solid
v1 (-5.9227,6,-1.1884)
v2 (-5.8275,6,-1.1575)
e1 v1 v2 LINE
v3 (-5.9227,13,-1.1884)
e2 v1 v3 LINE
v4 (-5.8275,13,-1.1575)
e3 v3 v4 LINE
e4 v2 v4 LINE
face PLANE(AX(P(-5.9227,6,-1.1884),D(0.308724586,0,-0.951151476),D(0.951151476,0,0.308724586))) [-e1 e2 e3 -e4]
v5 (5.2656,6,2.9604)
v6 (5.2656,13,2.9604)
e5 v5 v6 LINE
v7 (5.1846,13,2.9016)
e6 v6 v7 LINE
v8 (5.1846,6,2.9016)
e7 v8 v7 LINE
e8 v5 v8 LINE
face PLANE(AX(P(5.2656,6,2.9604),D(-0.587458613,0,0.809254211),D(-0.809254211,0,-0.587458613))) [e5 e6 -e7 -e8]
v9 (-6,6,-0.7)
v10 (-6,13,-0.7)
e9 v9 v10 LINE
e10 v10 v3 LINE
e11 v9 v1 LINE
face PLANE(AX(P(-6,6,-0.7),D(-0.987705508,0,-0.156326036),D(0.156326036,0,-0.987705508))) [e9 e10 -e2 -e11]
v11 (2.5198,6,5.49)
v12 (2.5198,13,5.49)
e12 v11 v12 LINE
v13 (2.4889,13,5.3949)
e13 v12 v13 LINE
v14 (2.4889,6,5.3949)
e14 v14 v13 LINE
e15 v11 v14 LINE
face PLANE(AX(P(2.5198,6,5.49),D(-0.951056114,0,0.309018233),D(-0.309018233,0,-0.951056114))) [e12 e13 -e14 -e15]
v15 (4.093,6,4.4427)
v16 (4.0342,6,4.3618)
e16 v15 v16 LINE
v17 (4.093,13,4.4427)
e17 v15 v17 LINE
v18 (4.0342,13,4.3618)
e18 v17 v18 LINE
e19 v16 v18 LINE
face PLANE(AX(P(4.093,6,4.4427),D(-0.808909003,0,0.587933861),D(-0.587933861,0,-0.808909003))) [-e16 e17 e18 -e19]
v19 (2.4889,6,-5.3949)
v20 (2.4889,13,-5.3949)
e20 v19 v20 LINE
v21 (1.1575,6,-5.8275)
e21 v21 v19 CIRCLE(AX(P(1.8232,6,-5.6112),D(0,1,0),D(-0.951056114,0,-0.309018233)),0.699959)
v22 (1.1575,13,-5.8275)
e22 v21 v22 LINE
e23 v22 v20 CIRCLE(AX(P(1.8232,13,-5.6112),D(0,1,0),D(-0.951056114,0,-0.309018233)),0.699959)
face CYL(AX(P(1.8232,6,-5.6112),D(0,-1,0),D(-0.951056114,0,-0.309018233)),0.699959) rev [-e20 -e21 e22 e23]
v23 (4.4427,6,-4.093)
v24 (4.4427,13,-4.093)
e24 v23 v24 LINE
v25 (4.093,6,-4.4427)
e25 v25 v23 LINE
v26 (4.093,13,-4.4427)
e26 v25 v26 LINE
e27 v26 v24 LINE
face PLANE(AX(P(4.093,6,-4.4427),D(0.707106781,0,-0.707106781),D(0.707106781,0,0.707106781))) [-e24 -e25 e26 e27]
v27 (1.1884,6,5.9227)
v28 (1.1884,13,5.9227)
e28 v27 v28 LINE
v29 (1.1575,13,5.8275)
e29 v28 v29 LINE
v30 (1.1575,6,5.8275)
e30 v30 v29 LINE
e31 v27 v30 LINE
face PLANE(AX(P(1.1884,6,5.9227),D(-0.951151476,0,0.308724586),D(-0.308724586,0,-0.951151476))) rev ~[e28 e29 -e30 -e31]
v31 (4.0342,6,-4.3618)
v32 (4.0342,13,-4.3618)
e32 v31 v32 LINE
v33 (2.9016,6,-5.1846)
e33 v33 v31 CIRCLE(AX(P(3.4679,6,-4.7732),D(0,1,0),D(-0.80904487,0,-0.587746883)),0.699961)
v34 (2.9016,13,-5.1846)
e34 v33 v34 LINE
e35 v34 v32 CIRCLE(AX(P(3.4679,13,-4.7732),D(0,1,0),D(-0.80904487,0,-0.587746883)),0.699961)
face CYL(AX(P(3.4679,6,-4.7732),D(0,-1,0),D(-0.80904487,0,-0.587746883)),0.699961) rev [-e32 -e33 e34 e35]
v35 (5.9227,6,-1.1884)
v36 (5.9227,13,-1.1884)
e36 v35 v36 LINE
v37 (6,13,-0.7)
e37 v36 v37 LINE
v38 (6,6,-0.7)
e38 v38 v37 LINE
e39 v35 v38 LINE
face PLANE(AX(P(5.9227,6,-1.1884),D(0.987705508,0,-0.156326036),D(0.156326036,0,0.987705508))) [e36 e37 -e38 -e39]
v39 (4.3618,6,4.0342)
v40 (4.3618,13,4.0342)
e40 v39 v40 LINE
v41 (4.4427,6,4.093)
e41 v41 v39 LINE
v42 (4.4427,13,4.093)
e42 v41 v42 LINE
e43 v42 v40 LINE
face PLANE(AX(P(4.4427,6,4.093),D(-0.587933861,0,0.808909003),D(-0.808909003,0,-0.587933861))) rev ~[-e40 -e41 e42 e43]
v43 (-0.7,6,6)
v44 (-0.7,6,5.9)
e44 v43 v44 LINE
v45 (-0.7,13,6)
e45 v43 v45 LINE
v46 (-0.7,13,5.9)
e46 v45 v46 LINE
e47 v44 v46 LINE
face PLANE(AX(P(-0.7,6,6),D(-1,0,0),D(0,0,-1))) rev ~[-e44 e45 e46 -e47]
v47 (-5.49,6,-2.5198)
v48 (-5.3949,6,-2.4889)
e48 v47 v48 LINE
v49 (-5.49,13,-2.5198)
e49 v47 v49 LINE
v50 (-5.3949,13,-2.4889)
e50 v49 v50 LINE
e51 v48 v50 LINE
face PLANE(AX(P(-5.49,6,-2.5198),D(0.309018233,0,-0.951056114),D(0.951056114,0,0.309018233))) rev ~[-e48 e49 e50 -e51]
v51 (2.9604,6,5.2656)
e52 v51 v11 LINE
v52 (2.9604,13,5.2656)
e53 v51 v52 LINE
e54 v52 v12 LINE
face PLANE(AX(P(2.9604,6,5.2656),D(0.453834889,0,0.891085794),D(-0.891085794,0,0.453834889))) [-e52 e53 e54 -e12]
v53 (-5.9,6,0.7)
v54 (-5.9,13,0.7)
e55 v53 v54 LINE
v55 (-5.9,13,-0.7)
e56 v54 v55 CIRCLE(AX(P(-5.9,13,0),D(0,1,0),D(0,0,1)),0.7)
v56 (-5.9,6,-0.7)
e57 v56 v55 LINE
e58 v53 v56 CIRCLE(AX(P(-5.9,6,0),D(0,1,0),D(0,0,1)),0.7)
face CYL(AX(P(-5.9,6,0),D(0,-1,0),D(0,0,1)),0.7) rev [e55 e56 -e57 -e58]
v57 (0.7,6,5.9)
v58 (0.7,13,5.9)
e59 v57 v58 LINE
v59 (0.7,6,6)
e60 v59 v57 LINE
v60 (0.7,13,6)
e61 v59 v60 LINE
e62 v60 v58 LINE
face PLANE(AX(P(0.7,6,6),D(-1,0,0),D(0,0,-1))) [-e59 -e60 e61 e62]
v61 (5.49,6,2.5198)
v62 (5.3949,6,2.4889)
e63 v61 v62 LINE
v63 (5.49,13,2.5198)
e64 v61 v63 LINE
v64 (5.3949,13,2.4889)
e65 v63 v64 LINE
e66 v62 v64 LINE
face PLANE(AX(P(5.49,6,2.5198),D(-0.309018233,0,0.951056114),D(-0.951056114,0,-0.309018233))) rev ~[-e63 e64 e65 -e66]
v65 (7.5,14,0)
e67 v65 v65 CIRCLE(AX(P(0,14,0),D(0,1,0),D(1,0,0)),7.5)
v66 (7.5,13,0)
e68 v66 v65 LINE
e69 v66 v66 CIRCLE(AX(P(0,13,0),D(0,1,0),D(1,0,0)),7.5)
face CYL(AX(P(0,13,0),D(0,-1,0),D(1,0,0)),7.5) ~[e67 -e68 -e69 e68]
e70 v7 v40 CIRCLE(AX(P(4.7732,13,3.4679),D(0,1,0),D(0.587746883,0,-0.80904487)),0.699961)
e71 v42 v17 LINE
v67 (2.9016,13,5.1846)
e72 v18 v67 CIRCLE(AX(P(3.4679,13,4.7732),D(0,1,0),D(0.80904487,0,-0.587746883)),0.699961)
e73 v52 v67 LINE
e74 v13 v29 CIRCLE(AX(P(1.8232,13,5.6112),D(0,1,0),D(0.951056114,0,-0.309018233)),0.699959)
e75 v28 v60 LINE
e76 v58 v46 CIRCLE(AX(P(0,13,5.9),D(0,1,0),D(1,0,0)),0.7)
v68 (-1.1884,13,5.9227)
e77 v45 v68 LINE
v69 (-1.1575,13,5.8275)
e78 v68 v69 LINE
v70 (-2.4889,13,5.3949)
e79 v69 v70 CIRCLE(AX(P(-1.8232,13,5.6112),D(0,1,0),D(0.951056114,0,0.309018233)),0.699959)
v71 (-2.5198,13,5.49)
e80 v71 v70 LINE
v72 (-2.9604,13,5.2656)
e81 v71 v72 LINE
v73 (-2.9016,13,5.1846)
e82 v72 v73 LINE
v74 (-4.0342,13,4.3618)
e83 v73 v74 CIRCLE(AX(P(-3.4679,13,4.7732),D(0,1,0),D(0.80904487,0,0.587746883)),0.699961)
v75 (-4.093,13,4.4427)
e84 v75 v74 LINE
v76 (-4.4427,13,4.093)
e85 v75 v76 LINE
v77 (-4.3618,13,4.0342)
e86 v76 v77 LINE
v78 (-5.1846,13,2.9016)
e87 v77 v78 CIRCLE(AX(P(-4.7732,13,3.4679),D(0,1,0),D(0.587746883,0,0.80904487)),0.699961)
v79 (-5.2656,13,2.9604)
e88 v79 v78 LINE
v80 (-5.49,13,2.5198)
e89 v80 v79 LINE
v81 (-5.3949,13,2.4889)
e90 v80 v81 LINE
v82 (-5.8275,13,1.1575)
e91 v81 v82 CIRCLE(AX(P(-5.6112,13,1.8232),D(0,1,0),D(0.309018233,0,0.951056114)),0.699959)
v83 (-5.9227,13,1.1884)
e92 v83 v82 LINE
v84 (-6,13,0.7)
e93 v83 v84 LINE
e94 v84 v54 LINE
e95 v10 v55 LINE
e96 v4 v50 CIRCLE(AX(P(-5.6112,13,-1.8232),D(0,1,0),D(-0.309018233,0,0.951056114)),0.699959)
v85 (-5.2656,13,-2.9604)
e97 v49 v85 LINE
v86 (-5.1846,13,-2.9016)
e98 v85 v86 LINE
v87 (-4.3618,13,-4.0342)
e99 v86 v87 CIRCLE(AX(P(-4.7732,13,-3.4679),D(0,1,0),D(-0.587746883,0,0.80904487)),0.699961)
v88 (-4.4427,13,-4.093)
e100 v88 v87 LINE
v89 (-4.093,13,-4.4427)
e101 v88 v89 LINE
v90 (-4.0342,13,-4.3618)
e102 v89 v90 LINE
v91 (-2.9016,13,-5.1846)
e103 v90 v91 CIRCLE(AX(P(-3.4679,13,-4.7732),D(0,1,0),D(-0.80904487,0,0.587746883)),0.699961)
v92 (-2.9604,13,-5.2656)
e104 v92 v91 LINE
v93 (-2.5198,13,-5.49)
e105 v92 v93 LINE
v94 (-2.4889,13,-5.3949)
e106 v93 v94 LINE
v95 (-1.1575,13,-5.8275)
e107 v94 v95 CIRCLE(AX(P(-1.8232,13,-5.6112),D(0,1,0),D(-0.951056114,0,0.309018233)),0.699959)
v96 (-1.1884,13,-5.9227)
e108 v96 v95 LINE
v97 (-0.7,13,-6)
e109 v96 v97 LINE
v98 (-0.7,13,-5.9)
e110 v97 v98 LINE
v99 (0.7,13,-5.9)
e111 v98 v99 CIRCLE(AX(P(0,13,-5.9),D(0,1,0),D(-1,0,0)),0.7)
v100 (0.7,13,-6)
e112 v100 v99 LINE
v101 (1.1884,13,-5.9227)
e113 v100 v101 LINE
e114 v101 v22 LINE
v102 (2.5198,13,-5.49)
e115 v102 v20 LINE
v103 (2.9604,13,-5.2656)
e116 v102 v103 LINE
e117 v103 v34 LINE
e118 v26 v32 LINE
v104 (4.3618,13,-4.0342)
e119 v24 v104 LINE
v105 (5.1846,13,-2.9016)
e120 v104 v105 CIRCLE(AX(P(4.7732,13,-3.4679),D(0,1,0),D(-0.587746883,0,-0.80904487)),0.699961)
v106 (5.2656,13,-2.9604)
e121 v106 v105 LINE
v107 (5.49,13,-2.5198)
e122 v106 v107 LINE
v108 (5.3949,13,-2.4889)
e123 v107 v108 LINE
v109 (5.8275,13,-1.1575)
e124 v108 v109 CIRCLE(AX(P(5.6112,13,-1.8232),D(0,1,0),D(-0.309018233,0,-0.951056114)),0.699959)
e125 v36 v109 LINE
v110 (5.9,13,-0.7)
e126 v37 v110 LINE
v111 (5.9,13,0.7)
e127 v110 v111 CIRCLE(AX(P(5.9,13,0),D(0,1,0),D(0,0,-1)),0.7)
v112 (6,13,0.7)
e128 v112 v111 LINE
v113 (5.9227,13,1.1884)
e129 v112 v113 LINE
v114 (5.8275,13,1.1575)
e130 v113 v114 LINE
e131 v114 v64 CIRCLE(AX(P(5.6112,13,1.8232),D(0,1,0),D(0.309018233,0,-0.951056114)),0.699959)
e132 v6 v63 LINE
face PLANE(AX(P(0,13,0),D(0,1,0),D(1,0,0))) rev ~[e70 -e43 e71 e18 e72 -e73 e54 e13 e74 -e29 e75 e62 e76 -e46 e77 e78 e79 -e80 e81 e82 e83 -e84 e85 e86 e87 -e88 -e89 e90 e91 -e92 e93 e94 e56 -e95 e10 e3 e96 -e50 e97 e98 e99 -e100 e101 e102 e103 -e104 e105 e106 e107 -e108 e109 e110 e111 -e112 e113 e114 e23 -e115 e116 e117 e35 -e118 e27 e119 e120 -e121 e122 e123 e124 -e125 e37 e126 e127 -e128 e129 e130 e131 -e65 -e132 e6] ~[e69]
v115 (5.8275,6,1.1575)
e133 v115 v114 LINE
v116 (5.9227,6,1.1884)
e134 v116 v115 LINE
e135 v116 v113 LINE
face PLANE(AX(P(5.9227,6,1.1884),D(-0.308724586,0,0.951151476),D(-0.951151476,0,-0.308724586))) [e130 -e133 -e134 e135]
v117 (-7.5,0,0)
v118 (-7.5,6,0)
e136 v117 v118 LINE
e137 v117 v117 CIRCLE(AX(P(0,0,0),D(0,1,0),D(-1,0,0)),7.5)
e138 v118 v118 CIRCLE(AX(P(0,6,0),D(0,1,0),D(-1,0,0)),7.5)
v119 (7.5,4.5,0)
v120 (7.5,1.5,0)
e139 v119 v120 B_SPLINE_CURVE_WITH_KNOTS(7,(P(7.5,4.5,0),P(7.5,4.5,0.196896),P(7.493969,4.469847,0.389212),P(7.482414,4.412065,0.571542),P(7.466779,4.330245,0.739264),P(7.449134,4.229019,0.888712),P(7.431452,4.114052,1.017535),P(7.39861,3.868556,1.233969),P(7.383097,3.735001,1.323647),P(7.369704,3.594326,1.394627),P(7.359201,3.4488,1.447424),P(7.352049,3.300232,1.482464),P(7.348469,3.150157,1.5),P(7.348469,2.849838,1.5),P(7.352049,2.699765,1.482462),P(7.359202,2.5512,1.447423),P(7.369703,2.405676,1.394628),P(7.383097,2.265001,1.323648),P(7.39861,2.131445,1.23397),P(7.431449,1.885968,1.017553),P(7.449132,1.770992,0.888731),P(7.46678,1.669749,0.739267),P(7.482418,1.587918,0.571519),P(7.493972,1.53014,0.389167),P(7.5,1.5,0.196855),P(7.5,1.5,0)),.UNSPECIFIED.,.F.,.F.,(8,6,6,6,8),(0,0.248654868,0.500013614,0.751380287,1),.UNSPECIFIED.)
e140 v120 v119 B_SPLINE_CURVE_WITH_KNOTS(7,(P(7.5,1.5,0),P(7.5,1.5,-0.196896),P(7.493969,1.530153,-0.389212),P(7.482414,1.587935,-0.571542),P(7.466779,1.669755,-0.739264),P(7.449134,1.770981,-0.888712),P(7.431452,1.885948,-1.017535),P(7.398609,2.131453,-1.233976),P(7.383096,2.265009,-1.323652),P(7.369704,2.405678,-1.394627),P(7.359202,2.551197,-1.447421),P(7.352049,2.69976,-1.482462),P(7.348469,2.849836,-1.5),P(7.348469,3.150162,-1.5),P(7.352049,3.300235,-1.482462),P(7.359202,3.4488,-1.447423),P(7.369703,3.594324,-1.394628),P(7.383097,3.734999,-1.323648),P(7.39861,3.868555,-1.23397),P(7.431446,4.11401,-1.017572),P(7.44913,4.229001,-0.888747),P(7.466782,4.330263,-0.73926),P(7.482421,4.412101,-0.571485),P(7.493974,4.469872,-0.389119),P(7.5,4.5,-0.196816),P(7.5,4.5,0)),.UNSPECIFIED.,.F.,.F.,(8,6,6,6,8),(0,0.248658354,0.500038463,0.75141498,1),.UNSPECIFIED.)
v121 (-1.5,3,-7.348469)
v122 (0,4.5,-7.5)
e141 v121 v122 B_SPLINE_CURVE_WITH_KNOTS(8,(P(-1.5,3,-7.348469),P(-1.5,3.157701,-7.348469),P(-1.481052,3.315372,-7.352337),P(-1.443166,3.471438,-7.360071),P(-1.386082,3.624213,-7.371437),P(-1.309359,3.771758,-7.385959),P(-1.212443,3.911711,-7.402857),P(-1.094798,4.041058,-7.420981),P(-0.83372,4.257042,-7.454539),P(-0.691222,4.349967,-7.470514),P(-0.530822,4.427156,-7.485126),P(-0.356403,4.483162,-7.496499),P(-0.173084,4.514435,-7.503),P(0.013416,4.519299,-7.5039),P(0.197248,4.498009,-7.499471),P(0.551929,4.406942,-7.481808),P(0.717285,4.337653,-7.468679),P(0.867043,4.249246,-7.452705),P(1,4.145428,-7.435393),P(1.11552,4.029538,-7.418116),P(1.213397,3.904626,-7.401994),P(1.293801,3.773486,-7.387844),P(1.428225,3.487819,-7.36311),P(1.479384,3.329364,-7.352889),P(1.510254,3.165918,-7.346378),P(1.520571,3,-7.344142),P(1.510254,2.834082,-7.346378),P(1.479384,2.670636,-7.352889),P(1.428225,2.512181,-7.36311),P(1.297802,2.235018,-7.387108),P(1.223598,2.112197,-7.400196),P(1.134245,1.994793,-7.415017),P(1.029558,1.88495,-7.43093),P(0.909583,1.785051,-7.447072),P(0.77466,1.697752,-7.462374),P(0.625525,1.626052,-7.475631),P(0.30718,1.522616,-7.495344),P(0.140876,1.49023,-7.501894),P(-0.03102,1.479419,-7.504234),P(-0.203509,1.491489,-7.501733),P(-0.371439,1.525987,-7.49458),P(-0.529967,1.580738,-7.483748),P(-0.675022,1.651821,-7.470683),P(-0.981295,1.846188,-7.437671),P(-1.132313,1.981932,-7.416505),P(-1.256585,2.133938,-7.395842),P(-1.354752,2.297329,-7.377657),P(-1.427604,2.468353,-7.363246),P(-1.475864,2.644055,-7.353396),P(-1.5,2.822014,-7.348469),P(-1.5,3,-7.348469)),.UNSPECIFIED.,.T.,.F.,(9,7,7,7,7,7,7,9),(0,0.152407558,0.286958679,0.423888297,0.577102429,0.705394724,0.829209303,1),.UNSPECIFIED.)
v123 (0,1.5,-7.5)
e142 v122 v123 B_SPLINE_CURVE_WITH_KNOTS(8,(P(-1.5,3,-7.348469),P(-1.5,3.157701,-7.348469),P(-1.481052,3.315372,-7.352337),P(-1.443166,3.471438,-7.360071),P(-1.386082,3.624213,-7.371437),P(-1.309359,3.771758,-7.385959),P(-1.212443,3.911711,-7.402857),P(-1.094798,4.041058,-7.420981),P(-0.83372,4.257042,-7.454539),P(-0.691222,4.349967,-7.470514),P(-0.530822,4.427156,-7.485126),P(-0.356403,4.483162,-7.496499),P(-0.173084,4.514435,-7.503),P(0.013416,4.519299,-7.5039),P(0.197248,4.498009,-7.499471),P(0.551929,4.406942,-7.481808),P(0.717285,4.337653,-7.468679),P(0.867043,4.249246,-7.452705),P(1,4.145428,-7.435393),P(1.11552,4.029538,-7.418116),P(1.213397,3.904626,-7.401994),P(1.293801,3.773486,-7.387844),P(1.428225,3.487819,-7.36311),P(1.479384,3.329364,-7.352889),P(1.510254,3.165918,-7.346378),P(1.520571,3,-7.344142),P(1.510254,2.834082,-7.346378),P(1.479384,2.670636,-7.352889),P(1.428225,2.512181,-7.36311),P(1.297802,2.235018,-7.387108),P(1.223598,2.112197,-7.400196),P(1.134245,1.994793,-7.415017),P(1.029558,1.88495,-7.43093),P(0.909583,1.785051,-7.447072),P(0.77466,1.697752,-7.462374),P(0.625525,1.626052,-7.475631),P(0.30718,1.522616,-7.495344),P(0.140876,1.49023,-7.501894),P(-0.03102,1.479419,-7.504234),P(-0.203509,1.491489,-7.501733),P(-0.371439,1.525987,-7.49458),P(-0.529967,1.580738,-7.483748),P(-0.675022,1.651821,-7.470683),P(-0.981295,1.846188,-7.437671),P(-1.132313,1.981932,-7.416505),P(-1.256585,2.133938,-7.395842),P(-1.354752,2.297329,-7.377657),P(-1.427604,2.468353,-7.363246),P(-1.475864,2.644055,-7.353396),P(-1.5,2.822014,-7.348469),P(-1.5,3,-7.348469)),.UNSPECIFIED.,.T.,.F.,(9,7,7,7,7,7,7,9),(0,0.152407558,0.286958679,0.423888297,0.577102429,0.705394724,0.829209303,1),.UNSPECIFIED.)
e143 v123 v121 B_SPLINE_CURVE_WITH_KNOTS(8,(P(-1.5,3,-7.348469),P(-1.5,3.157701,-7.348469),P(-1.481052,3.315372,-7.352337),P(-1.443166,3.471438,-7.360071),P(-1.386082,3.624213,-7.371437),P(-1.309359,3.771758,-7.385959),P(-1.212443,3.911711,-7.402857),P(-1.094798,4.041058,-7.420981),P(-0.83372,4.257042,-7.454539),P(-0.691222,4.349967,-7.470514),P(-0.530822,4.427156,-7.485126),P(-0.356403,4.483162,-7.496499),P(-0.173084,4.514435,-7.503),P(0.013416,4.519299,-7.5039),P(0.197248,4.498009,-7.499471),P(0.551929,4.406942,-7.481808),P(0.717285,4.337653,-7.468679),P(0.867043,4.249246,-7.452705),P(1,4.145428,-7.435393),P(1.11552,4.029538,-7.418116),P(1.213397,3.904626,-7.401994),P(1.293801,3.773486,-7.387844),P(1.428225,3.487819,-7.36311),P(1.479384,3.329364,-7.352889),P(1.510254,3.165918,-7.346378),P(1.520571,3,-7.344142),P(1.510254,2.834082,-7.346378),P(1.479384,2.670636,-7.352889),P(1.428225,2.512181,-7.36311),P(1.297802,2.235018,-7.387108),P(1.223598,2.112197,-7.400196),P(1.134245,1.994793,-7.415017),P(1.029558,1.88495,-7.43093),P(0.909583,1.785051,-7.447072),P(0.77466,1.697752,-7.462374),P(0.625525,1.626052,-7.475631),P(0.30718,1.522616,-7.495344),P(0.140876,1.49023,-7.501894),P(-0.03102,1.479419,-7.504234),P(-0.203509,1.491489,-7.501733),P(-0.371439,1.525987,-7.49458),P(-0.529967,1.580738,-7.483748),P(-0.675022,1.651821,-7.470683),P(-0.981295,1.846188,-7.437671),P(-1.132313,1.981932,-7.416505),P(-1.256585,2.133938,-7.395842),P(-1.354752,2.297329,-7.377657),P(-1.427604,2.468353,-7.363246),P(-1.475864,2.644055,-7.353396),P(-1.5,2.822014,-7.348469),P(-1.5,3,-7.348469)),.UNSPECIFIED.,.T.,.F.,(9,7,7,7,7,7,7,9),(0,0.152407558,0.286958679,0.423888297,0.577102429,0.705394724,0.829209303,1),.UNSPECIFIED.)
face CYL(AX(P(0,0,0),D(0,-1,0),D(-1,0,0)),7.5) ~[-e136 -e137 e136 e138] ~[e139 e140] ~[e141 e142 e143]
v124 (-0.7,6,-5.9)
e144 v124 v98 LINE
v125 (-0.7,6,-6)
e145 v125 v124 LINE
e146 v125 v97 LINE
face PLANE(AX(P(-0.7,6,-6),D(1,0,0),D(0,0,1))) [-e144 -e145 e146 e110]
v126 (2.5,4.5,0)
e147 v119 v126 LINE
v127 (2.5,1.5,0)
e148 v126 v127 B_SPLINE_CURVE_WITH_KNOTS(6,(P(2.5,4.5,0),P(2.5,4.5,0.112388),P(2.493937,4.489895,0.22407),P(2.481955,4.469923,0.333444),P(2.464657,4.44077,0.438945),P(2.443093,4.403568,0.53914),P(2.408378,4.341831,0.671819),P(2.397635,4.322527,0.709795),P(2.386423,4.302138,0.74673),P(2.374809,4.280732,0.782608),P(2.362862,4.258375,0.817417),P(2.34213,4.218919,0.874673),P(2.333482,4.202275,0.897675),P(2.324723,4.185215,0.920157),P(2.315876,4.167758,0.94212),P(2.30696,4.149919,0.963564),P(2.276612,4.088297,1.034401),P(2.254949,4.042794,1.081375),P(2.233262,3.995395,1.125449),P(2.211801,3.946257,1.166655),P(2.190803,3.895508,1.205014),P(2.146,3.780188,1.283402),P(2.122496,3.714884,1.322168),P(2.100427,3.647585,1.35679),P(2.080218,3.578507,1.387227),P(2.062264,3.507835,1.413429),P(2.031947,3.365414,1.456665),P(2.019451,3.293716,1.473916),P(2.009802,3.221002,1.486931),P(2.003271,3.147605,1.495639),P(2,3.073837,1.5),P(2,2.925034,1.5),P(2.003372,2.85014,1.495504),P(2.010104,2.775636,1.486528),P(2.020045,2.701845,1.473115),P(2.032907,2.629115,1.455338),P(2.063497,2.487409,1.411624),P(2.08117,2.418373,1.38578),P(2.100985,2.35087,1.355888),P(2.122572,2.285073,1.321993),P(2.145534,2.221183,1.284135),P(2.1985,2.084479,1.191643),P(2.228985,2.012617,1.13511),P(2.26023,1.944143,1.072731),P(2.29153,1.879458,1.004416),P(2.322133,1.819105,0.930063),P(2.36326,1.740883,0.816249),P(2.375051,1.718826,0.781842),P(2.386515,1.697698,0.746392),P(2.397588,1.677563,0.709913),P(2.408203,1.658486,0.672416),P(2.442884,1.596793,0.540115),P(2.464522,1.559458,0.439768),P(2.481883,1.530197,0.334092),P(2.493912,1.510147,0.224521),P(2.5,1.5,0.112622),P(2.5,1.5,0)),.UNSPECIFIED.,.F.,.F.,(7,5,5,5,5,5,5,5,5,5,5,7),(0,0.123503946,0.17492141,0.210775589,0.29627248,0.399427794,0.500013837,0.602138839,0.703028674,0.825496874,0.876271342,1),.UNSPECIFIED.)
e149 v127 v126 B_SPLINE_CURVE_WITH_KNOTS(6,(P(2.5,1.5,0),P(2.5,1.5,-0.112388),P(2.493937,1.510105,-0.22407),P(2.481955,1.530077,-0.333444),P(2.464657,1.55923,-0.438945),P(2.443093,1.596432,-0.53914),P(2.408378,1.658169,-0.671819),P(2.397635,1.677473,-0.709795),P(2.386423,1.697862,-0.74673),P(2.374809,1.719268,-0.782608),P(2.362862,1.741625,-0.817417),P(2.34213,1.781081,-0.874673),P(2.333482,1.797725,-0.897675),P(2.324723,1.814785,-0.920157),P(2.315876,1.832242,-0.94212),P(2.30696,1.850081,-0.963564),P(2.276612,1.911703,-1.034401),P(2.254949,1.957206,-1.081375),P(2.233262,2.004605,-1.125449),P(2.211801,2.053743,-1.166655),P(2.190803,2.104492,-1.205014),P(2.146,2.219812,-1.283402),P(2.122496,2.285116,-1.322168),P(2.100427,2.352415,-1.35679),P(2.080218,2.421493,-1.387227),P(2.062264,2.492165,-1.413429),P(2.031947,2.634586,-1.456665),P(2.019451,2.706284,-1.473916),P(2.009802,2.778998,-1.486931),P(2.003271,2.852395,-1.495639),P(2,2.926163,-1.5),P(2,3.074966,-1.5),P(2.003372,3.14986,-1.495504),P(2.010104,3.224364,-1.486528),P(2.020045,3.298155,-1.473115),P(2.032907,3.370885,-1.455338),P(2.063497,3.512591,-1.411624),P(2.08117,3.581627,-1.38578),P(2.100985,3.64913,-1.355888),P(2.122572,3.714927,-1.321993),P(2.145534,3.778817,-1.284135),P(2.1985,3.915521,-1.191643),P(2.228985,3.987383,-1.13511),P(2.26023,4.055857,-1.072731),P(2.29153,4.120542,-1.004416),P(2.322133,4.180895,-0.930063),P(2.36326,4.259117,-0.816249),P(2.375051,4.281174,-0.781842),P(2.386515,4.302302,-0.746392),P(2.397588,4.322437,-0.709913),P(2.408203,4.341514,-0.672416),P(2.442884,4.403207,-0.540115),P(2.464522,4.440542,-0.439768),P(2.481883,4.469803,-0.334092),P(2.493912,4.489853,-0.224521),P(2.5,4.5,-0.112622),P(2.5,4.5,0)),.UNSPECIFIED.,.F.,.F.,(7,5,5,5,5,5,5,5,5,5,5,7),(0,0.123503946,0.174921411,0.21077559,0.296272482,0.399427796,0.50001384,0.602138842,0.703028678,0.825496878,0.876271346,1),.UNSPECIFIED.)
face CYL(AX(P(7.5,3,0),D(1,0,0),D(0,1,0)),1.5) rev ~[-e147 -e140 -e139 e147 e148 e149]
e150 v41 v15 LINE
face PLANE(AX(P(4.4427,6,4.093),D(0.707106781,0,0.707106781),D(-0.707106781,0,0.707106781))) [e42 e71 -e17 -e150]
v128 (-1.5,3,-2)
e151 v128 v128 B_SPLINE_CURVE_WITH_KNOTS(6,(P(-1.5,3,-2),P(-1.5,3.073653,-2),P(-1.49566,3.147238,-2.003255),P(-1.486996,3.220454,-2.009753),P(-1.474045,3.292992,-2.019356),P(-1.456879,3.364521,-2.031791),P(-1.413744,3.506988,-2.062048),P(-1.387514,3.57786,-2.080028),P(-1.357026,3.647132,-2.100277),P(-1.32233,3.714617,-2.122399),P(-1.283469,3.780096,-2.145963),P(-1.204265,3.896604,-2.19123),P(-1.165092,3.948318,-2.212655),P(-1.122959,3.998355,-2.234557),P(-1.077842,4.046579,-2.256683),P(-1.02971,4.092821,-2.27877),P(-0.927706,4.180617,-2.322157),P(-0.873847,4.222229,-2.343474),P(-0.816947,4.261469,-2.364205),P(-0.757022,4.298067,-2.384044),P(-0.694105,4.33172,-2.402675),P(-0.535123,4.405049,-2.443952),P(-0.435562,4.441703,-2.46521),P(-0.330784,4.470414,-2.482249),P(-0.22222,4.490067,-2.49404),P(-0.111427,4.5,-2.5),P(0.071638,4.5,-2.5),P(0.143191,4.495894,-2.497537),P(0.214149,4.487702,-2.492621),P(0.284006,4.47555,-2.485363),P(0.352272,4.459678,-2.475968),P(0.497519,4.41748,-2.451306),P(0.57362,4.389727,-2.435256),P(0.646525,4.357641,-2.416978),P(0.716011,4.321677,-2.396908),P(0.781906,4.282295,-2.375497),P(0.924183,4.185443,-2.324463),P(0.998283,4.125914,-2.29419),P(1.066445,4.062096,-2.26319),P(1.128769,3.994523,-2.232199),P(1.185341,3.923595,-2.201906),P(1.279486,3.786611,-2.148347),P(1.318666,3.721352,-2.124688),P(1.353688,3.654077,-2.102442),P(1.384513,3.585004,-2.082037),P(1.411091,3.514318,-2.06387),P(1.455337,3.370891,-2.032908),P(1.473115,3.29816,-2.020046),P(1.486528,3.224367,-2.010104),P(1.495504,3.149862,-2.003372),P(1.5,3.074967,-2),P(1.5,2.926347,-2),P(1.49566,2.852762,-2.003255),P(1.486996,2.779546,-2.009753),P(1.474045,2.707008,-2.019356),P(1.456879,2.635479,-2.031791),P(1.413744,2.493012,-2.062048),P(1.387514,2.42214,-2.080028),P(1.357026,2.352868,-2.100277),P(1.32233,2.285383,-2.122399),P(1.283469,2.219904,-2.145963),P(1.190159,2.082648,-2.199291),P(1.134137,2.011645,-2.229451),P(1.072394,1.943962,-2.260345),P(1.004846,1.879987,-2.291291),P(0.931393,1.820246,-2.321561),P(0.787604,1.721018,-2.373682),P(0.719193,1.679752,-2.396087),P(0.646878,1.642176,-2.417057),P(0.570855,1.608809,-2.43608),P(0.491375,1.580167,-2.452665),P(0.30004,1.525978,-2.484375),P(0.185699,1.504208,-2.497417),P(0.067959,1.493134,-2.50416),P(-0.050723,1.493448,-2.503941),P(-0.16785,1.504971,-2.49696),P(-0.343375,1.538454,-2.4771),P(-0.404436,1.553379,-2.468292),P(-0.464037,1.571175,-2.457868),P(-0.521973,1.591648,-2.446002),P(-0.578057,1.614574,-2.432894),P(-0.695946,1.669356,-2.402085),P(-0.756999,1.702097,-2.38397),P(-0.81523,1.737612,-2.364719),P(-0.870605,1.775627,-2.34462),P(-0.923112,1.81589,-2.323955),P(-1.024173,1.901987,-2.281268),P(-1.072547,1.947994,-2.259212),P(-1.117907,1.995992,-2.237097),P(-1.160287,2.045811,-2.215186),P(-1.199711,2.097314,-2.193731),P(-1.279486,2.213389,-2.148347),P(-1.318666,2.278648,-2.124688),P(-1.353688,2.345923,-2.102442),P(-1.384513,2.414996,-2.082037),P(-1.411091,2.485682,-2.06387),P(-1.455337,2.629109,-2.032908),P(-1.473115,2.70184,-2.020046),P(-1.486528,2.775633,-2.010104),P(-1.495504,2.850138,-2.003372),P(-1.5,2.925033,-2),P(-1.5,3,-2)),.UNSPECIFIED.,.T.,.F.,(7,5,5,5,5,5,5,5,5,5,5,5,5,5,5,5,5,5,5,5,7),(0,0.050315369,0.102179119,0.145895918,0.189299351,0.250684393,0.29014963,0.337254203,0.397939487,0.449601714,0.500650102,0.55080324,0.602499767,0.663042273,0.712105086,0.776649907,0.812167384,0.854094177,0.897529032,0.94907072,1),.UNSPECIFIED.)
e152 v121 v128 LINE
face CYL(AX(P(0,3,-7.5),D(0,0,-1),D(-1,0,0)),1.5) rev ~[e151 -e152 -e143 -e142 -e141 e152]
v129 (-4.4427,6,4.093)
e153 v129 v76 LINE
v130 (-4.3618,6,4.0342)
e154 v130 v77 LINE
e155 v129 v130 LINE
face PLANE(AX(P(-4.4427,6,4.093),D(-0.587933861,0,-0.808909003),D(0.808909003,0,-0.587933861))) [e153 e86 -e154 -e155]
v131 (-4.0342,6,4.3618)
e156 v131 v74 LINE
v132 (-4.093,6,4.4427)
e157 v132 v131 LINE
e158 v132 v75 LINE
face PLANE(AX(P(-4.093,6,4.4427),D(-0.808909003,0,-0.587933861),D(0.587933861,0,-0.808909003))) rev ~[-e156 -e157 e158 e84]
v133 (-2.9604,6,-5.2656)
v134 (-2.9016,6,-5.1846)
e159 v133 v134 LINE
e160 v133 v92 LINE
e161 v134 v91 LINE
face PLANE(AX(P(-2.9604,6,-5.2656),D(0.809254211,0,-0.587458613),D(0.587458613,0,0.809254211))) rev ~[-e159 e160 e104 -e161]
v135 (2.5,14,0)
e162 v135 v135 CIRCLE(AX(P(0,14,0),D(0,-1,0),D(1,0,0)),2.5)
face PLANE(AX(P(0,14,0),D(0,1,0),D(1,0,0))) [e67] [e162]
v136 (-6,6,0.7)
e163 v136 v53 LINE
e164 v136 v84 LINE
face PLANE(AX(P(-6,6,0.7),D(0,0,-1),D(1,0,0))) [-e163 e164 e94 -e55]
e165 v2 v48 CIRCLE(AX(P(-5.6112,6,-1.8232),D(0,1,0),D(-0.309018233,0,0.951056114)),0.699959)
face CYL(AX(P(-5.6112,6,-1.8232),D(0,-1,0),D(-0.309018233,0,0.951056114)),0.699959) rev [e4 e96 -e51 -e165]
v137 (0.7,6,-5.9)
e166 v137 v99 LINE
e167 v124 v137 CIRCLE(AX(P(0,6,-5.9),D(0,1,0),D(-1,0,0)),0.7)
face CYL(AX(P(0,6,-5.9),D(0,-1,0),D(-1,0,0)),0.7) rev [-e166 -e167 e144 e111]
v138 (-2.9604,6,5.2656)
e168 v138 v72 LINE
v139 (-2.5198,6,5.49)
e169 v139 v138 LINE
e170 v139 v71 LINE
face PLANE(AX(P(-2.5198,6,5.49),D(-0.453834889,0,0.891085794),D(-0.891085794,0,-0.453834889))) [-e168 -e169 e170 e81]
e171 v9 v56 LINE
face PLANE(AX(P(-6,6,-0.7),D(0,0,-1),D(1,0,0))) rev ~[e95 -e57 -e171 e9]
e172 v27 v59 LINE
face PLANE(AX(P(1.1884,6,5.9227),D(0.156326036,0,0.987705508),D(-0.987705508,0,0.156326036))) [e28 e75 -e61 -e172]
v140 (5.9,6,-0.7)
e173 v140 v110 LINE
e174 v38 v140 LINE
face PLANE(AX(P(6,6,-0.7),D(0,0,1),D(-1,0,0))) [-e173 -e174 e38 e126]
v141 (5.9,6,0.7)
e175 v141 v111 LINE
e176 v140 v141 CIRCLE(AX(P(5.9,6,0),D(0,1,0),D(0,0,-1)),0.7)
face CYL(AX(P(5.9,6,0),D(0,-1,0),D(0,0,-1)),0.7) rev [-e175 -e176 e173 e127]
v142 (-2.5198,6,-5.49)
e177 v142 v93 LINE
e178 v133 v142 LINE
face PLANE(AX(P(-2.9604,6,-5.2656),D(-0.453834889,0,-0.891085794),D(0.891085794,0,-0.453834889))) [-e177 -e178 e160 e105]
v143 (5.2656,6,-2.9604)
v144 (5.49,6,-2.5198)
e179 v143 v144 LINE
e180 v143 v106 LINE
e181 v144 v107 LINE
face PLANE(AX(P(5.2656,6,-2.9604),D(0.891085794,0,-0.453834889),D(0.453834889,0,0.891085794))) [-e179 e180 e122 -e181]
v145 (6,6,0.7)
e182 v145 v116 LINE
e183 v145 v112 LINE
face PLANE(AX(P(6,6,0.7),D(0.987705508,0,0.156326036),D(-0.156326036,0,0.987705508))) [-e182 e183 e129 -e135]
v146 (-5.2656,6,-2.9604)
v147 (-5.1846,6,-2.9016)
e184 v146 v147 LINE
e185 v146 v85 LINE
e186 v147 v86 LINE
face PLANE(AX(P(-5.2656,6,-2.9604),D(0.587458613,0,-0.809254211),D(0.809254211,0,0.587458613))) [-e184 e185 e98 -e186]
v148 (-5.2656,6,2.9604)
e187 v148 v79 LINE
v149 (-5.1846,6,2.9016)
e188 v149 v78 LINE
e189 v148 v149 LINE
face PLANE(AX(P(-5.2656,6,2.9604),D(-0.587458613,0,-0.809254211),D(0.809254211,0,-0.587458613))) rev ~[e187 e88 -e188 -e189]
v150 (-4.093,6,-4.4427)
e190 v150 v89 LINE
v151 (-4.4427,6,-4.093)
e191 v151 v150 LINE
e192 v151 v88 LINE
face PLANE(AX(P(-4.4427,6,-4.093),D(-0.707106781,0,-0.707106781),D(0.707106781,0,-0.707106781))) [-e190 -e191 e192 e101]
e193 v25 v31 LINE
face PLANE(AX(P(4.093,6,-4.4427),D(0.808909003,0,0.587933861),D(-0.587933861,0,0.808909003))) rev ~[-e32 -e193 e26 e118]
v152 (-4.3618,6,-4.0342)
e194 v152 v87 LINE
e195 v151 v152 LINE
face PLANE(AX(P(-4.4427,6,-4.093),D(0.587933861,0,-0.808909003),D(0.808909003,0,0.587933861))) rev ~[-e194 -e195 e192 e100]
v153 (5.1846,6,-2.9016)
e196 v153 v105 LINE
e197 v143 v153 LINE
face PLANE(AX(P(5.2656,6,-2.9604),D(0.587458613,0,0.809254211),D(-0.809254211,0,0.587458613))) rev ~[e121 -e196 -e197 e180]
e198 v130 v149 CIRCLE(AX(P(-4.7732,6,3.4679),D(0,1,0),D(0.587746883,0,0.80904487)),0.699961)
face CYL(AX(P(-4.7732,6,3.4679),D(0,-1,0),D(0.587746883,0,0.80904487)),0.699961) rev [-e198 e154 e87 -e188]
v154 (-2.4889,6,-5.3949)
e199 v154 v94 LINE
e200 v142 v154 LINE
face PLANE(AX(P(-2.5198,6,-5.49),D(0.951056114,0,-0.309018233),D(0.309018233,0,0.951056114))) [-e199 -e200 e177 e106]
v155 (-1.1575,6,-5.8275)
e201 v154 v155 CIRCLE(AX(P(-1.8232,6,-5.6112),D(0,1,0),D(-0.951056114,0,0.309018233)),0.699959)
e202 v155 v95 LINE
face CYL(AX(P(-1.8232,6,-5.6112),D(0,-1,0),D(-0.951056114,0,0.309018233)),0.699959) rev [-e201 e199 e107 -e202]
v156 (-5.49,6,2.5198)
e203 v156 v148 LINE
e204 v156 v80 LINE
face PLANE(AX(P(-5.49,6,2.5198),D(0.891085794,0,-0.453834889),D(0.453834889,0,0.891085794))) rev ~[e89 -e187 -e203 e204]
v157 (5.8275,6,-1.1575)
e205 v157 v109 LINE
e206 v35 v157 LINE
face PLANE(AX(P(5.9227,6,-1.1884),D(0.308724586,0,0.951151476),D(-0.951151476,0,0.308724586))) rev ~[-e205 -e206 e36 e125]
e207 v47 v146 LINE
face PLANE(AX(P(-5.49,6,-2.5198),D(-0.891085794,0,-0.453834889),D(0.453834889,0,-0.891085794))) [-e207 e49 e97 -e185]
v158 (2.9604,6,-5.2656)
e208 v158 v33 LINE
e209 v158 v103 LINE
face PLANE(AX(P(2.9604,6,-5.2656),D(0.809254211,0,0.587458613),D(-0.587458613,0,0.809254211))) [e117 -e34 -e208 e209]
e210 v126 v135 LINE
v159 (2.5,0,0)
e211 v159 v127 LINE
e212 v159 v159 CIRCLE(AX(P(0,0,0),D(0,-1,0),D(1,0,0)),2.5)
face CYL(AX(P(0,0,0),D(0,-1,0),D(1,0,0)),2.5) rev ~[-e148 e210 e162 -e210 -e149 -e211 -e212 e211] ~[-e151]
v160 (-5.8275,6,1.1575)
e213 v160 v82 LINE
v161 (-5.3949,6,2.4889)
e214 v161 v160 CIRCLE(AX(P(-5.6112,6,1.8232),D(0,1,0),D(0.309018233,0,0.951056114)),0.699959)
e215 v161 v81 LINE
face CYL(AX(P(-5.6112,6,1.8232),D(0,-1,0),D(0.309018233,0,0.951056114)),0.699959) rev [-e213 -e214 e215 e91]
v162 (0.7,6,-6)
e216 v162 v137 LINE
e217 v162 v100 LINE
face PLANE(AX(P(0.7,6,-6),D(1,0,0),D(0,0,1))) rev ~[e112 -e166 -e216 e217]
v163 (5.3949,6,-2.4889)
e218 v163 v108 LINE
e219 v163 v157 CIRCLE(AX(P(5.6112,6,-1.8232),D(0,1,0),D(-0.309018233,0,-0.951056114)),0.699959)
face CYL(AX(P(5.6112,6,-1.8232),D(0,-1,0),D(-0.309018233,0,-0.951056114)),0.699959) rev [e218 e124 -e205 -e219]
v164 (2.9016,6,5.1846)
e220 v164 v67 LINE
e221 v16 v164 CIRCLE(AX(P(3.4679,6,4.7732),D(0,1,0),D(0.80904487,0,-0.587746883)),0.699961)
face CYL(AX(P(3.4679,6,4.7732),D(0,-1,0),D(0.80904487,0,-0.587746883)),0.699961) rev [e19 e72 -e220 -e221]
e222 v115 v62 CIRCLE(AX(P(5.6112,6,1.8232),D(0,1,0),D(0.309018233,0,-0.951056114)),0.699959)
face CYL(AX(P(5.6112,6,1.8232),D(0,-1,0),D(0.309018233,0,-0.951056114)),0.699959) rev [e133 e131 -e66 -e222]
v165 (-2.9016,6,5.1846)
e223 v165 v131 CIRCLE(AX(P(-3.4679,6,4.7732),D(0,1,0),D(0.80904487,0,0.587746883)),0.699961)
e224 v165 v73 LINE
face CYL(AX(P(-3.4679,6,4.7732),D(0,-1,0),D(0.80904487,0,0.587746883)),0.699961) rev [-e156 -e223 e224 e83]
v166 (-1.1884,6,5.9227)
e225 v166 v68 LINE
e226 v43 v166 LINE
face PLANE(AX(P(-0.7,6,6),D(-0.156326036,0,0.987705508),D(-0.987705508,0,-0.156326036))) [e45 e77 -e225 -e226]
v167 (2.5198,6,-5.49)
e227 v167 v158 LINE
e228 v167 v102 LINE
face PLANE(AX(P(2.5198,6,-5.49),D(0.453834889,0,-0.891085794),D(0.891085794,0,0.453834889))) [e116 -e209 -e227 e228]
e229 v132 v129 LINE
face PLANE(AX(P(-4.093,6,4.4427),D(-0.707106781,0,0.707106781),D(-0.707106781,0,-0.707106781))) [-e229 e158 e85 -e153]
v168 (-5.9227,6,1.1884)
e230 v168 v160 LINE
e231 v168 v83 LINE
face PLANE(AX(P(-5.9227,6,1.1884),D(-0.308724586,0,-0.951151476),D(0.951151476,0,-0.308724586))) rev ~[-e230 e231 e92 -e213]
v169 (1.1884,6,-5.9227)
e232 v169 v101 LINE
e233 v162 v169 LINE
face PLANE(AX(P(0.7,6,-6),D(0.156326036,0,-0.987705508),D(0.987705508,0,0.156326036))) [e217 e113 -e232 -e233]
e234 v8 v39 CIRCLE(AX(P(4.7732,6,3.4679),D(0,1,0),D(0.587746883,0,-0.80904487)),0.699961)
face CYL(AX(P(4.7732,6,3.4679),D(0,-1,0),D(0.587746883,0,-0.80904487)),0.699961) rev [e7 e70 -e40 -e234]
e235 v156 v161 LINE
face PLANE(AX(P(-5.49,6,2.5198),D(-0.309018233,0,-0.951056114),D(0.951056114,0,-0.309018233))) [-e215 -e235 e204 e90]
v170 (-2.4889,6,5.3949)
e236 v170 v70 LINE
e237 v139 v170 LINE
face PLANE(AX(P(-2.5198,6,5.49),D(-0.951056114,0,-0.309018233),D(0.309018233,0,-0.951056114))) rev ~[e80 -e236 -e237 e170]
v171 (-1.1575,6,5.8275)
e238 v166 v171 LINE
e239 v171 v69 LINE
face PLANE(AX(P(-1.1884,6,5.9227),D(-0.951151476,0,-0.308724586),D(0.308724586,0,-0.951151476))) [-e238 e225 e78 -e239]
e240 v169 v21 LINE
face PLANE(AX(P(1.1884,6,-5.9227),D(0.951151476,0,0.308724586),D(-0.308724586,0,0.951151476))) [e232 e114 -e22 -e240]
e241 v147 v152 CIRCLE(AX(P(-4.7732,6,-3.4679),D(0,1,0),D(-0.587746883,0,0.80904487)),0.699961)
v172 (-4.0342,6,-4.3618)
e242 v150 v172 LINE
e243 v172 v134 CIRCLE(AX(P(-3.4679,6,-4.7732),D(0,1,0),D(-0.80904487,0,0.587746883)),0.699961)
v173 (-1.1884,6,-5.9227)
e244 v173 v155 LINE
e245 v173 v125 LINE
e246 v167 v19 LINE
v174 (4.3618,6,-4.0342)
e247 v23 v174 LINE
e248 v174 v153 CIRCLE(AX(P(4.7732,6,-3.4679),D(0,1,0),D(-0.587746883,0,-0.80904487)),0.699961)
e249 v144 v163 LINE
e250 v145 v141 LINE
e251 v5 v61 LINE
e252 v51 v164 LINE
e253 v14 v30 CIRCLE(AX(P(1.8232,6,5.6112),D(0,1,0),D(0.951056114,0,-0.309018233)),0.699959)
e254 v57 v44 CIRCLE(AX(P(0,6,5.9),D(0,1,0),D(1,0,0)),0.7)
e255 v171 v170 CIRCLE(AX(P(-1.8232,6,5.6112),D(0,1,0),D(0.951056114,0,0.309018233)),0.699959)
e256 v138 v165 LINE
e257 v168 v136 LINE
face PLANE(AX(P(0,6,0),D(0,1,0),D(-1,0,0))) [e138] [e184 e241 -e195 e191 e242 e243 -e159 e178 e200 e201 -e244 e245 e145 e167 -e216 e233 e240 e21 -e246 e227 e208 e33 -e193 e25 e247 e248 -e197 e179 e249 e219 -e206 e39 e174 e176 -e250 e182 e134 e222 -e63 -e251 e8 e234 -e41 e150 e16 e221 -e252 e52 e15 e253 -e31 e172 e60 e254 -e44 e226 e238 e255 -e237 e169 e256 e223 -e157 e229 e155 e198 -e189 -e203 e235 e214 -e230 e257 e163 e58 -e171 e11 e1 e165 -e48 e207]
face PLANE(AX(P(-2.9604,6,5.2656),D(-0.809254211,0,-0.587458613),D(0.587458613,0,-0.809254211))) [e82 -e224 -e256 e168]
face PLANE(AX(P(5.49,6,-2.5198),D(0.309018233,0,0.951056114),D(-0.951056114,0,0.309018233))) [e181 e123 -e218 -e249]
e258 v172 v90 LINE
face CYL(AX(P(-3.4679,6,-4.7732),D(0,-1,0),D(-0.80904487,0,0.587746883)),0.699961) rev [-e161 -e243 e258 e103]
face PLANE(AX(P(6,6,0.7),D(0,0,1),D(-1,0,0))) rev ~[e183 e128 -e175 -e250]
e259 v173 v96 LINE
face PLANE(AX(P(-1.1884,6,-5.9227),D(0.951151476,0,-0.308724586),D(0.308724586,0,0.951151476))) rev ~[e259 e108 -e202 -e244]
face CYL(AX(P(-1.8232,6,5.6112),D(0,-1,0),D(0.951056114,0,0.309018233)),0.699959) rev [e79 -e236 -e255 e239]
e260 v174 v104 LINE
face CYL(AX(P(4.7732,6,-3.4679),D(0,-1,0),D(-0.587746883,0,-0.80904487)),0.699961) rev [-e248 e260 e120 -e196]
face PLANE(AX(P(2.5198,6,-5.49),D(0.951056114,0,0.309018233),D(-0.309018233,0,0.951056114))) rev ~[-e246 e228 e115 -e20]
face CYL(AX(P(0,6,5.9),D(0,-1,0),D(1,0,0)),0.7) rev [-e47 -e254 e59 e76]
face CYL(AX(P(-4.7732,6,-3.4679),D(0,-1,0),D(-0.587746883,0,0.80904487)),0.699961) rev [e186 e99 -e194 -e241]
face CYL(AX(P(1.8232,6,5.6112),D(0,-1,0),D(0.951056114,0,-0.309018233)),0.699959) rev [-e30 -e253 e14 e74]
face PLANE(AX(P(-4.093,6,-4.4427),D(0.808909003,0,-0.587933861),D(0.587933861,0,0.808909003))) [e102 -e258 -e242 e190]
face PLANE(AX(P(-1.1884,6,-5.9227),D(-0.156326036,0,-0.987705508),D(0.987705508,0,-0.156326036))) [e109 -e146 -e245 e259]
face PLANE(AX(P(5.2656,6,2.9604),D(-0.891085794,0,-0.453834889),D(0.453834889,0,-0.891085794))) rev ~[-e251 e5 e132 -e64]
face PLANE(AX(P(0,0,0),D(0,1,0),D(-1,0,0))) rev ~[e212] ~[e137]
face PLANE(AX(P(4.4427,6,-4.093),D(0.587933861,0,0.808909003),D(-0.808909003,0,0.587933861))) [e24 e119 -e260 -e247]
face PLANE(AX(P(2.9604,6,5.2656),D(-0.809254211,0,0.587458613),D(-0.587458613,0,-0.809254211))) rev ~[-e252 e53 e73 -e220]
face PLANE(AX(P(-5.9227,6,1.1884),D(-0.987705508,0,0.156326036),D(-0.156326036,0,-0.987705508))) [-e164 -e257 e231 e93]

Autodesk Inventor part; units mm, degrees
ref_plane "YZ Plane" through (0, 0, 0) normal (1, 0, 0) x (0, 1, 0)
sketch "Sketch1" plane through (0, 0, 0) normal (0, 1, 0) x (-1, 0, 0)
  circle A0 centre (0, 0) radius 7.5
  dimension "d0" = 15
extrude "Extrusion1" add sketch "Sketch1" along normal blind 6
sketch "Sketch2" plane through (0, 6, 0) normal (0, 1, 0) x (1, 0, 0)
  circle A0 centre (0, 0) radius 7.5 projected
  line L0 (0, -7.5) -> (0, 7.5) construction
  line L1 (0.7, 6) -> (0.7, 5.9)
  line L2 (-0.7, 6) -> (-0.7, 5.9)
  arc A1 (-0.7, 5.9) -> (0.7, 5.9) centre (0, 5.9) ccw
  line L3 (-1.1884, 5.9227) -> (-1.1575, 5.8275)
  line L4 (-2.5198, 5.49) -> (-2.4889, 5.3949)
  arc A2 (-2.4889, 5.3949) -> (-1.1575, 5.8275) centre (-1.8232, 5.6112) ccw
  line L5 (-2.9604, 5.2656) -> (-2.9016, 5.1846)
  line L6 (-4.093, 4.4427) -> (-4.0342, 4.3618)
  arc A3 (-4.0342, 4.3618) -> (-2.9016, 5.1846) centre (-3.4679, 4.7732) ccw
  line L7 (-4.4427, 4.093) -> (-4.3618, 4.0342)
  line L8 (-5.2656, 2.9604) -> (-5.1846, 2.9016)
  arc A4 (-5.1846, 2.9016) -> (-4.3618, 4.0342) centre (-4.7732, 3.4679) ccw
  line L9 (-5.49, 2.5198) -> (-5.3949, 2.4889)
  line L10 (-5.9227, 1.1884) -> (-5.8275, 1.1575)
  arc A5 (-5.8275, 1.1575) -> (-5.3949, 2.4889) centre (-5.6112, 1.8232) ccw
  line L11 (-6, 0.7) -> (-5.9, 0.7)
  line L12 (-6, -0.7) -> (-5.9, -0.7)
  arc A6 (-5.9, -0.7) -> (-5.9, 0.7) centre (-5.9, 0) ccw
  line L13 (-5.9227, -1.1884) -> (-5.8275, -1.1575)
  line L14 (-5.49, -2.5198) -> (-5.3949, -2.4889)
  arc A7 (-5.3949, -2.4889) -> (-5.8275, -1.1575) centre (-5.6112, -1.8232) ccw
  line L15 (-5.2656, -2.9604) -> (-5.1846, -2.9016)
  line L16 (-4.4427, -4.093) -> (-4.3618, -4.0342)
  arc A8 (-4.3618, -4.0342) -> (-5.1846, -2.9016) centre (-4.7732, -3.4679) ccw
  line L17 (-4.093, -4.4427) -> (-4.0342, -4.3618)
  line L18 (-2.9604, -5.2656) -> (-2.9016, -5.1846)
  arc A9 (-2.9016, -5.1846) -> (-4.0342, -4.3618) centre (-3.4679, -4.7732) ccw
  line L19 (-2.5198, -5.49) -> (-2.4889, -5.3949)
  line L20 (-1.1884, -5.9227) -> (-1.1575, -5.8275)
  arc A10 (-1.1575, -5.8275) -> (-2.4889, -5.3949) centre (-1.8232, -5.6112) ccw
  line L21 (-0.7, -6) -> (-0.7, -5.9)
  line L22 (0.7, -6) -> (0.7, -5.9)
  arc A11 (0.7, -5.9) -> (-0.7, -5.9) centre (0, -5.9) ccw
  line L23 (1.1884, -5.9227) -> (1.1575, -5.8275)
  line L24 (2.5198, -5.49) -> (2.4889, -5.3949)
  arc A12 (2.4889, -5.3949) -> (1.1575, -5.8275) centre (1.8232, -5.6112) ccw
  line L25 (2.9604, -5.2656) -> (2.9016, -5.1846)
  line L26 (4.093, -4.4427) -> (4.0342, -4.3618)
  arc A13 (4.0342, -4.3618) -> (2.9016, -5.1846) centre (3.4679, -4.7732) ccw
  line L27 (4.4427, -4.093) -> (4.3618, -4.0342)
  line L28 (5.2656, -2.9604) -> (5.1846, -2.9016)
  arc A14 (5.1846, -2.9016) -> (4.3618, -4.0342) centre (4.7732, -3.4679) ccw
  line L29 (5.49, -2.5198) -> (5.3949, -2.4889)
  line L30 (5.9227, -1.1884) -> (5.8275, -1.1575)
  arc A15 (5.8275, -1.1575) -> (5.3949, -2.4889) centre (5.6112, -1.8232) ccw
  line L31 (6, -0.7) -> (5.9, -0.7)
  line L32 (6, 0.7) -> (5.9, 0.7)
  arc A16 (5.9, 0.7) -> (5.9, -0.7) centre (5.9, 0) ccw
  line L33 (5.9227, 1.1884) -> (5.8275, 1.1575)
  line L34 (5.49, 2.5198) -> (5.3949, 2.4889)
  arc A17 (5.3949, 2.4889) -> (5.8275, 1.1575) centre (5.6112, 1.8232) ccw
  line L35 (5.2656, 2.9604) -> (5.1846, 2.9016)
  line L36 (4.4427, 4.093) -> (4.3618, 4.0342)
  arc A18 (4.3618, 4.0342) -> (5.1846, 2.9016) centre (4.7732, 3.4679) ccw
  line L37 (4.093, 4.4427) -> (4.0342, 4.3618)
  line L38 (2.9604, 5.2656) -> (2.9016, 5.1846)
  arc A19 (2.9016, 5.1846) -> (4.0342, 4.3618) centre (3.4679, 4.7732) ccw
  line L39 (2.5198, 5.49) -> (2.4889, 5.3949)
  line L40 (1.1884, 5.9227) -> (1.1575, 5.8275)
  arc A20 (1.1575, 5.8275) -> (2.4889, 5.3949) centre (1.8232, 5.6112) ccw
  line L41 (-2.9604, 5.2656) -> (-2.5198, 5.49)
  line L42 (-1.1884, 5.9227) -> (-0.7, 6)
  line L43 (0.7, 6) -> (1.1884, 5.9227)
  line L44 (2.5198, 5.49) -> (2.9604, 5.2656)
  line L45 (4.093, 4.4427) -> (4.4427, 4.093)
  line L46 (5.2656, 2.9604) -> (5.49, 2.5198)
  line L47 (5.9227, 1.1884) -> (6, 0.7)
  line L48 (6, -0.7) -> (5.9227, -1.1884)
  line L49 (5.2656, -2.9604) -> (5.49, -2.5198)
  line L50 (4.4427, -4.093) -> (4.093, -4.4427)
  line L51 (2.9604, -5.2656) -> (2.5198, -5.49)
  line L52 (1.1884, -5.9227) -> (0.7, -6)
  line L53 (-0.7, -6) -> (-1.1884, -5.9227)
  line L54 (-2.5198, -5.49) -> (-2.9604, -5.2656)
  line L55 (-4.093, -4.4427) -> (-4.4427, -4.093)
  line L56 (-5.49, -2.5198) -> (-5.2656, -2.9604)
  line L57 (-5.9227, -1.1884) -> (-6, -0.7)
  line L58 (-6, 0.7) -> (-5.9227, 1.1884)
  line L59 (-5.49, 2.5198) -> (-5.2656, 2.9604)
  line L60 (-4.4427, 4.093) -> (-4.093, 4.4427)
  point P0 (-5.9, 0)
  dimension "d10" = 0.7
  dimension "d11" = 0.7
  dimension "d12" = 6
  dimension "d15" = 0.1
  dimension "d16" = 0.7
  dimension "d17" = 0.1
  dimension "d24" = 360
extrude "Extrusion2" add sketch "Sketch2" along normal blind 7 contours L43 L40 A20 L39 L44 L38 A19 L37 L45 L36 A18 L35 L46 L34 A17 L33 L47 L32 A16 L31 L48 L30 A15 L29 L49 L28 A14 L27 L50 L26 A13 L25 L51 L24 A12 L23 L52 L22 A11 L21 L53 L20 A10 L19 L54 L18 A9 L17 L55 L16 A8 L15 L56 L14 A7 L13 L57 L12 A6 L11 L58 L10 A5 L9 L59 L8 A4 L7 L60 L6 A3 L5 L41 L4 A2 L3 L42 L2 A1 L1
sketch "Sketch3" plane through (0, 13, 0) normal (0, 1, 0) x (1, 0, 0)
  circle A0 centre (0, 0) radius 7.5
  dimension "d28" = 15
extrude "Extrusion3" add sketch "Sketch3" along normal blind 1
sketch "Sketch4" plane through (0, 0, 0) normal (0, -1, 0) x (1, 0, 0)
  circle A0 centre (0, 0) radius 7.5 projected
  circle A1 centre (0, 0) radius 2.5
  dimension "d31" = 5
extrude "Extrusion4" cut sketch "Sketch4" against normal blind 14 contours A1
ref_plane "Work Plane4" through (7.5, 14, 0) normal (1, 0, 0) x (0, 1, 0)
ref_plane "Work Plane5" through (0, 14, -7.5) normal (0, 0, -1) x (-1, 0, 0)
sketch "Sketch9" plane through (7.5, 14, 0) normal (1, 0, 0) x (0, 1, 0)
  circle A0 centre (-11, 0) radius 1.5
  line L0 (-14, 7.5) -> (-14, -7.5) projected
  point P0 (-14, 0)
  point P1 (-14, 0)
  dimension "d47" = 3
  dimension "d48" = 3
extrude "Extrusion7" cut sketch "Sketch9" against normal blind 5.75
sketch "Sketch10" plane through (0, 14, -7.5) normal (0, 0, -1) x (-1, 0, 0)
  circle A0 centre (0, -11) radius 1.5
  point P0 (0, -14)
  dimension "d51" = 3
  dimension "d52" = 3
extrude "Extrusion8" cut sketch "Sketch10" against normal blind 6
thread "Thread3" size "M3x0.5" class "6H" standard "ANSI Metric M Profile" full length
thread "Thread4" size "M3x0.5" class "6H" standard "ANSI Metric M Profile" full length
properties part number "PulleyGT2x20tx5mmBore"
